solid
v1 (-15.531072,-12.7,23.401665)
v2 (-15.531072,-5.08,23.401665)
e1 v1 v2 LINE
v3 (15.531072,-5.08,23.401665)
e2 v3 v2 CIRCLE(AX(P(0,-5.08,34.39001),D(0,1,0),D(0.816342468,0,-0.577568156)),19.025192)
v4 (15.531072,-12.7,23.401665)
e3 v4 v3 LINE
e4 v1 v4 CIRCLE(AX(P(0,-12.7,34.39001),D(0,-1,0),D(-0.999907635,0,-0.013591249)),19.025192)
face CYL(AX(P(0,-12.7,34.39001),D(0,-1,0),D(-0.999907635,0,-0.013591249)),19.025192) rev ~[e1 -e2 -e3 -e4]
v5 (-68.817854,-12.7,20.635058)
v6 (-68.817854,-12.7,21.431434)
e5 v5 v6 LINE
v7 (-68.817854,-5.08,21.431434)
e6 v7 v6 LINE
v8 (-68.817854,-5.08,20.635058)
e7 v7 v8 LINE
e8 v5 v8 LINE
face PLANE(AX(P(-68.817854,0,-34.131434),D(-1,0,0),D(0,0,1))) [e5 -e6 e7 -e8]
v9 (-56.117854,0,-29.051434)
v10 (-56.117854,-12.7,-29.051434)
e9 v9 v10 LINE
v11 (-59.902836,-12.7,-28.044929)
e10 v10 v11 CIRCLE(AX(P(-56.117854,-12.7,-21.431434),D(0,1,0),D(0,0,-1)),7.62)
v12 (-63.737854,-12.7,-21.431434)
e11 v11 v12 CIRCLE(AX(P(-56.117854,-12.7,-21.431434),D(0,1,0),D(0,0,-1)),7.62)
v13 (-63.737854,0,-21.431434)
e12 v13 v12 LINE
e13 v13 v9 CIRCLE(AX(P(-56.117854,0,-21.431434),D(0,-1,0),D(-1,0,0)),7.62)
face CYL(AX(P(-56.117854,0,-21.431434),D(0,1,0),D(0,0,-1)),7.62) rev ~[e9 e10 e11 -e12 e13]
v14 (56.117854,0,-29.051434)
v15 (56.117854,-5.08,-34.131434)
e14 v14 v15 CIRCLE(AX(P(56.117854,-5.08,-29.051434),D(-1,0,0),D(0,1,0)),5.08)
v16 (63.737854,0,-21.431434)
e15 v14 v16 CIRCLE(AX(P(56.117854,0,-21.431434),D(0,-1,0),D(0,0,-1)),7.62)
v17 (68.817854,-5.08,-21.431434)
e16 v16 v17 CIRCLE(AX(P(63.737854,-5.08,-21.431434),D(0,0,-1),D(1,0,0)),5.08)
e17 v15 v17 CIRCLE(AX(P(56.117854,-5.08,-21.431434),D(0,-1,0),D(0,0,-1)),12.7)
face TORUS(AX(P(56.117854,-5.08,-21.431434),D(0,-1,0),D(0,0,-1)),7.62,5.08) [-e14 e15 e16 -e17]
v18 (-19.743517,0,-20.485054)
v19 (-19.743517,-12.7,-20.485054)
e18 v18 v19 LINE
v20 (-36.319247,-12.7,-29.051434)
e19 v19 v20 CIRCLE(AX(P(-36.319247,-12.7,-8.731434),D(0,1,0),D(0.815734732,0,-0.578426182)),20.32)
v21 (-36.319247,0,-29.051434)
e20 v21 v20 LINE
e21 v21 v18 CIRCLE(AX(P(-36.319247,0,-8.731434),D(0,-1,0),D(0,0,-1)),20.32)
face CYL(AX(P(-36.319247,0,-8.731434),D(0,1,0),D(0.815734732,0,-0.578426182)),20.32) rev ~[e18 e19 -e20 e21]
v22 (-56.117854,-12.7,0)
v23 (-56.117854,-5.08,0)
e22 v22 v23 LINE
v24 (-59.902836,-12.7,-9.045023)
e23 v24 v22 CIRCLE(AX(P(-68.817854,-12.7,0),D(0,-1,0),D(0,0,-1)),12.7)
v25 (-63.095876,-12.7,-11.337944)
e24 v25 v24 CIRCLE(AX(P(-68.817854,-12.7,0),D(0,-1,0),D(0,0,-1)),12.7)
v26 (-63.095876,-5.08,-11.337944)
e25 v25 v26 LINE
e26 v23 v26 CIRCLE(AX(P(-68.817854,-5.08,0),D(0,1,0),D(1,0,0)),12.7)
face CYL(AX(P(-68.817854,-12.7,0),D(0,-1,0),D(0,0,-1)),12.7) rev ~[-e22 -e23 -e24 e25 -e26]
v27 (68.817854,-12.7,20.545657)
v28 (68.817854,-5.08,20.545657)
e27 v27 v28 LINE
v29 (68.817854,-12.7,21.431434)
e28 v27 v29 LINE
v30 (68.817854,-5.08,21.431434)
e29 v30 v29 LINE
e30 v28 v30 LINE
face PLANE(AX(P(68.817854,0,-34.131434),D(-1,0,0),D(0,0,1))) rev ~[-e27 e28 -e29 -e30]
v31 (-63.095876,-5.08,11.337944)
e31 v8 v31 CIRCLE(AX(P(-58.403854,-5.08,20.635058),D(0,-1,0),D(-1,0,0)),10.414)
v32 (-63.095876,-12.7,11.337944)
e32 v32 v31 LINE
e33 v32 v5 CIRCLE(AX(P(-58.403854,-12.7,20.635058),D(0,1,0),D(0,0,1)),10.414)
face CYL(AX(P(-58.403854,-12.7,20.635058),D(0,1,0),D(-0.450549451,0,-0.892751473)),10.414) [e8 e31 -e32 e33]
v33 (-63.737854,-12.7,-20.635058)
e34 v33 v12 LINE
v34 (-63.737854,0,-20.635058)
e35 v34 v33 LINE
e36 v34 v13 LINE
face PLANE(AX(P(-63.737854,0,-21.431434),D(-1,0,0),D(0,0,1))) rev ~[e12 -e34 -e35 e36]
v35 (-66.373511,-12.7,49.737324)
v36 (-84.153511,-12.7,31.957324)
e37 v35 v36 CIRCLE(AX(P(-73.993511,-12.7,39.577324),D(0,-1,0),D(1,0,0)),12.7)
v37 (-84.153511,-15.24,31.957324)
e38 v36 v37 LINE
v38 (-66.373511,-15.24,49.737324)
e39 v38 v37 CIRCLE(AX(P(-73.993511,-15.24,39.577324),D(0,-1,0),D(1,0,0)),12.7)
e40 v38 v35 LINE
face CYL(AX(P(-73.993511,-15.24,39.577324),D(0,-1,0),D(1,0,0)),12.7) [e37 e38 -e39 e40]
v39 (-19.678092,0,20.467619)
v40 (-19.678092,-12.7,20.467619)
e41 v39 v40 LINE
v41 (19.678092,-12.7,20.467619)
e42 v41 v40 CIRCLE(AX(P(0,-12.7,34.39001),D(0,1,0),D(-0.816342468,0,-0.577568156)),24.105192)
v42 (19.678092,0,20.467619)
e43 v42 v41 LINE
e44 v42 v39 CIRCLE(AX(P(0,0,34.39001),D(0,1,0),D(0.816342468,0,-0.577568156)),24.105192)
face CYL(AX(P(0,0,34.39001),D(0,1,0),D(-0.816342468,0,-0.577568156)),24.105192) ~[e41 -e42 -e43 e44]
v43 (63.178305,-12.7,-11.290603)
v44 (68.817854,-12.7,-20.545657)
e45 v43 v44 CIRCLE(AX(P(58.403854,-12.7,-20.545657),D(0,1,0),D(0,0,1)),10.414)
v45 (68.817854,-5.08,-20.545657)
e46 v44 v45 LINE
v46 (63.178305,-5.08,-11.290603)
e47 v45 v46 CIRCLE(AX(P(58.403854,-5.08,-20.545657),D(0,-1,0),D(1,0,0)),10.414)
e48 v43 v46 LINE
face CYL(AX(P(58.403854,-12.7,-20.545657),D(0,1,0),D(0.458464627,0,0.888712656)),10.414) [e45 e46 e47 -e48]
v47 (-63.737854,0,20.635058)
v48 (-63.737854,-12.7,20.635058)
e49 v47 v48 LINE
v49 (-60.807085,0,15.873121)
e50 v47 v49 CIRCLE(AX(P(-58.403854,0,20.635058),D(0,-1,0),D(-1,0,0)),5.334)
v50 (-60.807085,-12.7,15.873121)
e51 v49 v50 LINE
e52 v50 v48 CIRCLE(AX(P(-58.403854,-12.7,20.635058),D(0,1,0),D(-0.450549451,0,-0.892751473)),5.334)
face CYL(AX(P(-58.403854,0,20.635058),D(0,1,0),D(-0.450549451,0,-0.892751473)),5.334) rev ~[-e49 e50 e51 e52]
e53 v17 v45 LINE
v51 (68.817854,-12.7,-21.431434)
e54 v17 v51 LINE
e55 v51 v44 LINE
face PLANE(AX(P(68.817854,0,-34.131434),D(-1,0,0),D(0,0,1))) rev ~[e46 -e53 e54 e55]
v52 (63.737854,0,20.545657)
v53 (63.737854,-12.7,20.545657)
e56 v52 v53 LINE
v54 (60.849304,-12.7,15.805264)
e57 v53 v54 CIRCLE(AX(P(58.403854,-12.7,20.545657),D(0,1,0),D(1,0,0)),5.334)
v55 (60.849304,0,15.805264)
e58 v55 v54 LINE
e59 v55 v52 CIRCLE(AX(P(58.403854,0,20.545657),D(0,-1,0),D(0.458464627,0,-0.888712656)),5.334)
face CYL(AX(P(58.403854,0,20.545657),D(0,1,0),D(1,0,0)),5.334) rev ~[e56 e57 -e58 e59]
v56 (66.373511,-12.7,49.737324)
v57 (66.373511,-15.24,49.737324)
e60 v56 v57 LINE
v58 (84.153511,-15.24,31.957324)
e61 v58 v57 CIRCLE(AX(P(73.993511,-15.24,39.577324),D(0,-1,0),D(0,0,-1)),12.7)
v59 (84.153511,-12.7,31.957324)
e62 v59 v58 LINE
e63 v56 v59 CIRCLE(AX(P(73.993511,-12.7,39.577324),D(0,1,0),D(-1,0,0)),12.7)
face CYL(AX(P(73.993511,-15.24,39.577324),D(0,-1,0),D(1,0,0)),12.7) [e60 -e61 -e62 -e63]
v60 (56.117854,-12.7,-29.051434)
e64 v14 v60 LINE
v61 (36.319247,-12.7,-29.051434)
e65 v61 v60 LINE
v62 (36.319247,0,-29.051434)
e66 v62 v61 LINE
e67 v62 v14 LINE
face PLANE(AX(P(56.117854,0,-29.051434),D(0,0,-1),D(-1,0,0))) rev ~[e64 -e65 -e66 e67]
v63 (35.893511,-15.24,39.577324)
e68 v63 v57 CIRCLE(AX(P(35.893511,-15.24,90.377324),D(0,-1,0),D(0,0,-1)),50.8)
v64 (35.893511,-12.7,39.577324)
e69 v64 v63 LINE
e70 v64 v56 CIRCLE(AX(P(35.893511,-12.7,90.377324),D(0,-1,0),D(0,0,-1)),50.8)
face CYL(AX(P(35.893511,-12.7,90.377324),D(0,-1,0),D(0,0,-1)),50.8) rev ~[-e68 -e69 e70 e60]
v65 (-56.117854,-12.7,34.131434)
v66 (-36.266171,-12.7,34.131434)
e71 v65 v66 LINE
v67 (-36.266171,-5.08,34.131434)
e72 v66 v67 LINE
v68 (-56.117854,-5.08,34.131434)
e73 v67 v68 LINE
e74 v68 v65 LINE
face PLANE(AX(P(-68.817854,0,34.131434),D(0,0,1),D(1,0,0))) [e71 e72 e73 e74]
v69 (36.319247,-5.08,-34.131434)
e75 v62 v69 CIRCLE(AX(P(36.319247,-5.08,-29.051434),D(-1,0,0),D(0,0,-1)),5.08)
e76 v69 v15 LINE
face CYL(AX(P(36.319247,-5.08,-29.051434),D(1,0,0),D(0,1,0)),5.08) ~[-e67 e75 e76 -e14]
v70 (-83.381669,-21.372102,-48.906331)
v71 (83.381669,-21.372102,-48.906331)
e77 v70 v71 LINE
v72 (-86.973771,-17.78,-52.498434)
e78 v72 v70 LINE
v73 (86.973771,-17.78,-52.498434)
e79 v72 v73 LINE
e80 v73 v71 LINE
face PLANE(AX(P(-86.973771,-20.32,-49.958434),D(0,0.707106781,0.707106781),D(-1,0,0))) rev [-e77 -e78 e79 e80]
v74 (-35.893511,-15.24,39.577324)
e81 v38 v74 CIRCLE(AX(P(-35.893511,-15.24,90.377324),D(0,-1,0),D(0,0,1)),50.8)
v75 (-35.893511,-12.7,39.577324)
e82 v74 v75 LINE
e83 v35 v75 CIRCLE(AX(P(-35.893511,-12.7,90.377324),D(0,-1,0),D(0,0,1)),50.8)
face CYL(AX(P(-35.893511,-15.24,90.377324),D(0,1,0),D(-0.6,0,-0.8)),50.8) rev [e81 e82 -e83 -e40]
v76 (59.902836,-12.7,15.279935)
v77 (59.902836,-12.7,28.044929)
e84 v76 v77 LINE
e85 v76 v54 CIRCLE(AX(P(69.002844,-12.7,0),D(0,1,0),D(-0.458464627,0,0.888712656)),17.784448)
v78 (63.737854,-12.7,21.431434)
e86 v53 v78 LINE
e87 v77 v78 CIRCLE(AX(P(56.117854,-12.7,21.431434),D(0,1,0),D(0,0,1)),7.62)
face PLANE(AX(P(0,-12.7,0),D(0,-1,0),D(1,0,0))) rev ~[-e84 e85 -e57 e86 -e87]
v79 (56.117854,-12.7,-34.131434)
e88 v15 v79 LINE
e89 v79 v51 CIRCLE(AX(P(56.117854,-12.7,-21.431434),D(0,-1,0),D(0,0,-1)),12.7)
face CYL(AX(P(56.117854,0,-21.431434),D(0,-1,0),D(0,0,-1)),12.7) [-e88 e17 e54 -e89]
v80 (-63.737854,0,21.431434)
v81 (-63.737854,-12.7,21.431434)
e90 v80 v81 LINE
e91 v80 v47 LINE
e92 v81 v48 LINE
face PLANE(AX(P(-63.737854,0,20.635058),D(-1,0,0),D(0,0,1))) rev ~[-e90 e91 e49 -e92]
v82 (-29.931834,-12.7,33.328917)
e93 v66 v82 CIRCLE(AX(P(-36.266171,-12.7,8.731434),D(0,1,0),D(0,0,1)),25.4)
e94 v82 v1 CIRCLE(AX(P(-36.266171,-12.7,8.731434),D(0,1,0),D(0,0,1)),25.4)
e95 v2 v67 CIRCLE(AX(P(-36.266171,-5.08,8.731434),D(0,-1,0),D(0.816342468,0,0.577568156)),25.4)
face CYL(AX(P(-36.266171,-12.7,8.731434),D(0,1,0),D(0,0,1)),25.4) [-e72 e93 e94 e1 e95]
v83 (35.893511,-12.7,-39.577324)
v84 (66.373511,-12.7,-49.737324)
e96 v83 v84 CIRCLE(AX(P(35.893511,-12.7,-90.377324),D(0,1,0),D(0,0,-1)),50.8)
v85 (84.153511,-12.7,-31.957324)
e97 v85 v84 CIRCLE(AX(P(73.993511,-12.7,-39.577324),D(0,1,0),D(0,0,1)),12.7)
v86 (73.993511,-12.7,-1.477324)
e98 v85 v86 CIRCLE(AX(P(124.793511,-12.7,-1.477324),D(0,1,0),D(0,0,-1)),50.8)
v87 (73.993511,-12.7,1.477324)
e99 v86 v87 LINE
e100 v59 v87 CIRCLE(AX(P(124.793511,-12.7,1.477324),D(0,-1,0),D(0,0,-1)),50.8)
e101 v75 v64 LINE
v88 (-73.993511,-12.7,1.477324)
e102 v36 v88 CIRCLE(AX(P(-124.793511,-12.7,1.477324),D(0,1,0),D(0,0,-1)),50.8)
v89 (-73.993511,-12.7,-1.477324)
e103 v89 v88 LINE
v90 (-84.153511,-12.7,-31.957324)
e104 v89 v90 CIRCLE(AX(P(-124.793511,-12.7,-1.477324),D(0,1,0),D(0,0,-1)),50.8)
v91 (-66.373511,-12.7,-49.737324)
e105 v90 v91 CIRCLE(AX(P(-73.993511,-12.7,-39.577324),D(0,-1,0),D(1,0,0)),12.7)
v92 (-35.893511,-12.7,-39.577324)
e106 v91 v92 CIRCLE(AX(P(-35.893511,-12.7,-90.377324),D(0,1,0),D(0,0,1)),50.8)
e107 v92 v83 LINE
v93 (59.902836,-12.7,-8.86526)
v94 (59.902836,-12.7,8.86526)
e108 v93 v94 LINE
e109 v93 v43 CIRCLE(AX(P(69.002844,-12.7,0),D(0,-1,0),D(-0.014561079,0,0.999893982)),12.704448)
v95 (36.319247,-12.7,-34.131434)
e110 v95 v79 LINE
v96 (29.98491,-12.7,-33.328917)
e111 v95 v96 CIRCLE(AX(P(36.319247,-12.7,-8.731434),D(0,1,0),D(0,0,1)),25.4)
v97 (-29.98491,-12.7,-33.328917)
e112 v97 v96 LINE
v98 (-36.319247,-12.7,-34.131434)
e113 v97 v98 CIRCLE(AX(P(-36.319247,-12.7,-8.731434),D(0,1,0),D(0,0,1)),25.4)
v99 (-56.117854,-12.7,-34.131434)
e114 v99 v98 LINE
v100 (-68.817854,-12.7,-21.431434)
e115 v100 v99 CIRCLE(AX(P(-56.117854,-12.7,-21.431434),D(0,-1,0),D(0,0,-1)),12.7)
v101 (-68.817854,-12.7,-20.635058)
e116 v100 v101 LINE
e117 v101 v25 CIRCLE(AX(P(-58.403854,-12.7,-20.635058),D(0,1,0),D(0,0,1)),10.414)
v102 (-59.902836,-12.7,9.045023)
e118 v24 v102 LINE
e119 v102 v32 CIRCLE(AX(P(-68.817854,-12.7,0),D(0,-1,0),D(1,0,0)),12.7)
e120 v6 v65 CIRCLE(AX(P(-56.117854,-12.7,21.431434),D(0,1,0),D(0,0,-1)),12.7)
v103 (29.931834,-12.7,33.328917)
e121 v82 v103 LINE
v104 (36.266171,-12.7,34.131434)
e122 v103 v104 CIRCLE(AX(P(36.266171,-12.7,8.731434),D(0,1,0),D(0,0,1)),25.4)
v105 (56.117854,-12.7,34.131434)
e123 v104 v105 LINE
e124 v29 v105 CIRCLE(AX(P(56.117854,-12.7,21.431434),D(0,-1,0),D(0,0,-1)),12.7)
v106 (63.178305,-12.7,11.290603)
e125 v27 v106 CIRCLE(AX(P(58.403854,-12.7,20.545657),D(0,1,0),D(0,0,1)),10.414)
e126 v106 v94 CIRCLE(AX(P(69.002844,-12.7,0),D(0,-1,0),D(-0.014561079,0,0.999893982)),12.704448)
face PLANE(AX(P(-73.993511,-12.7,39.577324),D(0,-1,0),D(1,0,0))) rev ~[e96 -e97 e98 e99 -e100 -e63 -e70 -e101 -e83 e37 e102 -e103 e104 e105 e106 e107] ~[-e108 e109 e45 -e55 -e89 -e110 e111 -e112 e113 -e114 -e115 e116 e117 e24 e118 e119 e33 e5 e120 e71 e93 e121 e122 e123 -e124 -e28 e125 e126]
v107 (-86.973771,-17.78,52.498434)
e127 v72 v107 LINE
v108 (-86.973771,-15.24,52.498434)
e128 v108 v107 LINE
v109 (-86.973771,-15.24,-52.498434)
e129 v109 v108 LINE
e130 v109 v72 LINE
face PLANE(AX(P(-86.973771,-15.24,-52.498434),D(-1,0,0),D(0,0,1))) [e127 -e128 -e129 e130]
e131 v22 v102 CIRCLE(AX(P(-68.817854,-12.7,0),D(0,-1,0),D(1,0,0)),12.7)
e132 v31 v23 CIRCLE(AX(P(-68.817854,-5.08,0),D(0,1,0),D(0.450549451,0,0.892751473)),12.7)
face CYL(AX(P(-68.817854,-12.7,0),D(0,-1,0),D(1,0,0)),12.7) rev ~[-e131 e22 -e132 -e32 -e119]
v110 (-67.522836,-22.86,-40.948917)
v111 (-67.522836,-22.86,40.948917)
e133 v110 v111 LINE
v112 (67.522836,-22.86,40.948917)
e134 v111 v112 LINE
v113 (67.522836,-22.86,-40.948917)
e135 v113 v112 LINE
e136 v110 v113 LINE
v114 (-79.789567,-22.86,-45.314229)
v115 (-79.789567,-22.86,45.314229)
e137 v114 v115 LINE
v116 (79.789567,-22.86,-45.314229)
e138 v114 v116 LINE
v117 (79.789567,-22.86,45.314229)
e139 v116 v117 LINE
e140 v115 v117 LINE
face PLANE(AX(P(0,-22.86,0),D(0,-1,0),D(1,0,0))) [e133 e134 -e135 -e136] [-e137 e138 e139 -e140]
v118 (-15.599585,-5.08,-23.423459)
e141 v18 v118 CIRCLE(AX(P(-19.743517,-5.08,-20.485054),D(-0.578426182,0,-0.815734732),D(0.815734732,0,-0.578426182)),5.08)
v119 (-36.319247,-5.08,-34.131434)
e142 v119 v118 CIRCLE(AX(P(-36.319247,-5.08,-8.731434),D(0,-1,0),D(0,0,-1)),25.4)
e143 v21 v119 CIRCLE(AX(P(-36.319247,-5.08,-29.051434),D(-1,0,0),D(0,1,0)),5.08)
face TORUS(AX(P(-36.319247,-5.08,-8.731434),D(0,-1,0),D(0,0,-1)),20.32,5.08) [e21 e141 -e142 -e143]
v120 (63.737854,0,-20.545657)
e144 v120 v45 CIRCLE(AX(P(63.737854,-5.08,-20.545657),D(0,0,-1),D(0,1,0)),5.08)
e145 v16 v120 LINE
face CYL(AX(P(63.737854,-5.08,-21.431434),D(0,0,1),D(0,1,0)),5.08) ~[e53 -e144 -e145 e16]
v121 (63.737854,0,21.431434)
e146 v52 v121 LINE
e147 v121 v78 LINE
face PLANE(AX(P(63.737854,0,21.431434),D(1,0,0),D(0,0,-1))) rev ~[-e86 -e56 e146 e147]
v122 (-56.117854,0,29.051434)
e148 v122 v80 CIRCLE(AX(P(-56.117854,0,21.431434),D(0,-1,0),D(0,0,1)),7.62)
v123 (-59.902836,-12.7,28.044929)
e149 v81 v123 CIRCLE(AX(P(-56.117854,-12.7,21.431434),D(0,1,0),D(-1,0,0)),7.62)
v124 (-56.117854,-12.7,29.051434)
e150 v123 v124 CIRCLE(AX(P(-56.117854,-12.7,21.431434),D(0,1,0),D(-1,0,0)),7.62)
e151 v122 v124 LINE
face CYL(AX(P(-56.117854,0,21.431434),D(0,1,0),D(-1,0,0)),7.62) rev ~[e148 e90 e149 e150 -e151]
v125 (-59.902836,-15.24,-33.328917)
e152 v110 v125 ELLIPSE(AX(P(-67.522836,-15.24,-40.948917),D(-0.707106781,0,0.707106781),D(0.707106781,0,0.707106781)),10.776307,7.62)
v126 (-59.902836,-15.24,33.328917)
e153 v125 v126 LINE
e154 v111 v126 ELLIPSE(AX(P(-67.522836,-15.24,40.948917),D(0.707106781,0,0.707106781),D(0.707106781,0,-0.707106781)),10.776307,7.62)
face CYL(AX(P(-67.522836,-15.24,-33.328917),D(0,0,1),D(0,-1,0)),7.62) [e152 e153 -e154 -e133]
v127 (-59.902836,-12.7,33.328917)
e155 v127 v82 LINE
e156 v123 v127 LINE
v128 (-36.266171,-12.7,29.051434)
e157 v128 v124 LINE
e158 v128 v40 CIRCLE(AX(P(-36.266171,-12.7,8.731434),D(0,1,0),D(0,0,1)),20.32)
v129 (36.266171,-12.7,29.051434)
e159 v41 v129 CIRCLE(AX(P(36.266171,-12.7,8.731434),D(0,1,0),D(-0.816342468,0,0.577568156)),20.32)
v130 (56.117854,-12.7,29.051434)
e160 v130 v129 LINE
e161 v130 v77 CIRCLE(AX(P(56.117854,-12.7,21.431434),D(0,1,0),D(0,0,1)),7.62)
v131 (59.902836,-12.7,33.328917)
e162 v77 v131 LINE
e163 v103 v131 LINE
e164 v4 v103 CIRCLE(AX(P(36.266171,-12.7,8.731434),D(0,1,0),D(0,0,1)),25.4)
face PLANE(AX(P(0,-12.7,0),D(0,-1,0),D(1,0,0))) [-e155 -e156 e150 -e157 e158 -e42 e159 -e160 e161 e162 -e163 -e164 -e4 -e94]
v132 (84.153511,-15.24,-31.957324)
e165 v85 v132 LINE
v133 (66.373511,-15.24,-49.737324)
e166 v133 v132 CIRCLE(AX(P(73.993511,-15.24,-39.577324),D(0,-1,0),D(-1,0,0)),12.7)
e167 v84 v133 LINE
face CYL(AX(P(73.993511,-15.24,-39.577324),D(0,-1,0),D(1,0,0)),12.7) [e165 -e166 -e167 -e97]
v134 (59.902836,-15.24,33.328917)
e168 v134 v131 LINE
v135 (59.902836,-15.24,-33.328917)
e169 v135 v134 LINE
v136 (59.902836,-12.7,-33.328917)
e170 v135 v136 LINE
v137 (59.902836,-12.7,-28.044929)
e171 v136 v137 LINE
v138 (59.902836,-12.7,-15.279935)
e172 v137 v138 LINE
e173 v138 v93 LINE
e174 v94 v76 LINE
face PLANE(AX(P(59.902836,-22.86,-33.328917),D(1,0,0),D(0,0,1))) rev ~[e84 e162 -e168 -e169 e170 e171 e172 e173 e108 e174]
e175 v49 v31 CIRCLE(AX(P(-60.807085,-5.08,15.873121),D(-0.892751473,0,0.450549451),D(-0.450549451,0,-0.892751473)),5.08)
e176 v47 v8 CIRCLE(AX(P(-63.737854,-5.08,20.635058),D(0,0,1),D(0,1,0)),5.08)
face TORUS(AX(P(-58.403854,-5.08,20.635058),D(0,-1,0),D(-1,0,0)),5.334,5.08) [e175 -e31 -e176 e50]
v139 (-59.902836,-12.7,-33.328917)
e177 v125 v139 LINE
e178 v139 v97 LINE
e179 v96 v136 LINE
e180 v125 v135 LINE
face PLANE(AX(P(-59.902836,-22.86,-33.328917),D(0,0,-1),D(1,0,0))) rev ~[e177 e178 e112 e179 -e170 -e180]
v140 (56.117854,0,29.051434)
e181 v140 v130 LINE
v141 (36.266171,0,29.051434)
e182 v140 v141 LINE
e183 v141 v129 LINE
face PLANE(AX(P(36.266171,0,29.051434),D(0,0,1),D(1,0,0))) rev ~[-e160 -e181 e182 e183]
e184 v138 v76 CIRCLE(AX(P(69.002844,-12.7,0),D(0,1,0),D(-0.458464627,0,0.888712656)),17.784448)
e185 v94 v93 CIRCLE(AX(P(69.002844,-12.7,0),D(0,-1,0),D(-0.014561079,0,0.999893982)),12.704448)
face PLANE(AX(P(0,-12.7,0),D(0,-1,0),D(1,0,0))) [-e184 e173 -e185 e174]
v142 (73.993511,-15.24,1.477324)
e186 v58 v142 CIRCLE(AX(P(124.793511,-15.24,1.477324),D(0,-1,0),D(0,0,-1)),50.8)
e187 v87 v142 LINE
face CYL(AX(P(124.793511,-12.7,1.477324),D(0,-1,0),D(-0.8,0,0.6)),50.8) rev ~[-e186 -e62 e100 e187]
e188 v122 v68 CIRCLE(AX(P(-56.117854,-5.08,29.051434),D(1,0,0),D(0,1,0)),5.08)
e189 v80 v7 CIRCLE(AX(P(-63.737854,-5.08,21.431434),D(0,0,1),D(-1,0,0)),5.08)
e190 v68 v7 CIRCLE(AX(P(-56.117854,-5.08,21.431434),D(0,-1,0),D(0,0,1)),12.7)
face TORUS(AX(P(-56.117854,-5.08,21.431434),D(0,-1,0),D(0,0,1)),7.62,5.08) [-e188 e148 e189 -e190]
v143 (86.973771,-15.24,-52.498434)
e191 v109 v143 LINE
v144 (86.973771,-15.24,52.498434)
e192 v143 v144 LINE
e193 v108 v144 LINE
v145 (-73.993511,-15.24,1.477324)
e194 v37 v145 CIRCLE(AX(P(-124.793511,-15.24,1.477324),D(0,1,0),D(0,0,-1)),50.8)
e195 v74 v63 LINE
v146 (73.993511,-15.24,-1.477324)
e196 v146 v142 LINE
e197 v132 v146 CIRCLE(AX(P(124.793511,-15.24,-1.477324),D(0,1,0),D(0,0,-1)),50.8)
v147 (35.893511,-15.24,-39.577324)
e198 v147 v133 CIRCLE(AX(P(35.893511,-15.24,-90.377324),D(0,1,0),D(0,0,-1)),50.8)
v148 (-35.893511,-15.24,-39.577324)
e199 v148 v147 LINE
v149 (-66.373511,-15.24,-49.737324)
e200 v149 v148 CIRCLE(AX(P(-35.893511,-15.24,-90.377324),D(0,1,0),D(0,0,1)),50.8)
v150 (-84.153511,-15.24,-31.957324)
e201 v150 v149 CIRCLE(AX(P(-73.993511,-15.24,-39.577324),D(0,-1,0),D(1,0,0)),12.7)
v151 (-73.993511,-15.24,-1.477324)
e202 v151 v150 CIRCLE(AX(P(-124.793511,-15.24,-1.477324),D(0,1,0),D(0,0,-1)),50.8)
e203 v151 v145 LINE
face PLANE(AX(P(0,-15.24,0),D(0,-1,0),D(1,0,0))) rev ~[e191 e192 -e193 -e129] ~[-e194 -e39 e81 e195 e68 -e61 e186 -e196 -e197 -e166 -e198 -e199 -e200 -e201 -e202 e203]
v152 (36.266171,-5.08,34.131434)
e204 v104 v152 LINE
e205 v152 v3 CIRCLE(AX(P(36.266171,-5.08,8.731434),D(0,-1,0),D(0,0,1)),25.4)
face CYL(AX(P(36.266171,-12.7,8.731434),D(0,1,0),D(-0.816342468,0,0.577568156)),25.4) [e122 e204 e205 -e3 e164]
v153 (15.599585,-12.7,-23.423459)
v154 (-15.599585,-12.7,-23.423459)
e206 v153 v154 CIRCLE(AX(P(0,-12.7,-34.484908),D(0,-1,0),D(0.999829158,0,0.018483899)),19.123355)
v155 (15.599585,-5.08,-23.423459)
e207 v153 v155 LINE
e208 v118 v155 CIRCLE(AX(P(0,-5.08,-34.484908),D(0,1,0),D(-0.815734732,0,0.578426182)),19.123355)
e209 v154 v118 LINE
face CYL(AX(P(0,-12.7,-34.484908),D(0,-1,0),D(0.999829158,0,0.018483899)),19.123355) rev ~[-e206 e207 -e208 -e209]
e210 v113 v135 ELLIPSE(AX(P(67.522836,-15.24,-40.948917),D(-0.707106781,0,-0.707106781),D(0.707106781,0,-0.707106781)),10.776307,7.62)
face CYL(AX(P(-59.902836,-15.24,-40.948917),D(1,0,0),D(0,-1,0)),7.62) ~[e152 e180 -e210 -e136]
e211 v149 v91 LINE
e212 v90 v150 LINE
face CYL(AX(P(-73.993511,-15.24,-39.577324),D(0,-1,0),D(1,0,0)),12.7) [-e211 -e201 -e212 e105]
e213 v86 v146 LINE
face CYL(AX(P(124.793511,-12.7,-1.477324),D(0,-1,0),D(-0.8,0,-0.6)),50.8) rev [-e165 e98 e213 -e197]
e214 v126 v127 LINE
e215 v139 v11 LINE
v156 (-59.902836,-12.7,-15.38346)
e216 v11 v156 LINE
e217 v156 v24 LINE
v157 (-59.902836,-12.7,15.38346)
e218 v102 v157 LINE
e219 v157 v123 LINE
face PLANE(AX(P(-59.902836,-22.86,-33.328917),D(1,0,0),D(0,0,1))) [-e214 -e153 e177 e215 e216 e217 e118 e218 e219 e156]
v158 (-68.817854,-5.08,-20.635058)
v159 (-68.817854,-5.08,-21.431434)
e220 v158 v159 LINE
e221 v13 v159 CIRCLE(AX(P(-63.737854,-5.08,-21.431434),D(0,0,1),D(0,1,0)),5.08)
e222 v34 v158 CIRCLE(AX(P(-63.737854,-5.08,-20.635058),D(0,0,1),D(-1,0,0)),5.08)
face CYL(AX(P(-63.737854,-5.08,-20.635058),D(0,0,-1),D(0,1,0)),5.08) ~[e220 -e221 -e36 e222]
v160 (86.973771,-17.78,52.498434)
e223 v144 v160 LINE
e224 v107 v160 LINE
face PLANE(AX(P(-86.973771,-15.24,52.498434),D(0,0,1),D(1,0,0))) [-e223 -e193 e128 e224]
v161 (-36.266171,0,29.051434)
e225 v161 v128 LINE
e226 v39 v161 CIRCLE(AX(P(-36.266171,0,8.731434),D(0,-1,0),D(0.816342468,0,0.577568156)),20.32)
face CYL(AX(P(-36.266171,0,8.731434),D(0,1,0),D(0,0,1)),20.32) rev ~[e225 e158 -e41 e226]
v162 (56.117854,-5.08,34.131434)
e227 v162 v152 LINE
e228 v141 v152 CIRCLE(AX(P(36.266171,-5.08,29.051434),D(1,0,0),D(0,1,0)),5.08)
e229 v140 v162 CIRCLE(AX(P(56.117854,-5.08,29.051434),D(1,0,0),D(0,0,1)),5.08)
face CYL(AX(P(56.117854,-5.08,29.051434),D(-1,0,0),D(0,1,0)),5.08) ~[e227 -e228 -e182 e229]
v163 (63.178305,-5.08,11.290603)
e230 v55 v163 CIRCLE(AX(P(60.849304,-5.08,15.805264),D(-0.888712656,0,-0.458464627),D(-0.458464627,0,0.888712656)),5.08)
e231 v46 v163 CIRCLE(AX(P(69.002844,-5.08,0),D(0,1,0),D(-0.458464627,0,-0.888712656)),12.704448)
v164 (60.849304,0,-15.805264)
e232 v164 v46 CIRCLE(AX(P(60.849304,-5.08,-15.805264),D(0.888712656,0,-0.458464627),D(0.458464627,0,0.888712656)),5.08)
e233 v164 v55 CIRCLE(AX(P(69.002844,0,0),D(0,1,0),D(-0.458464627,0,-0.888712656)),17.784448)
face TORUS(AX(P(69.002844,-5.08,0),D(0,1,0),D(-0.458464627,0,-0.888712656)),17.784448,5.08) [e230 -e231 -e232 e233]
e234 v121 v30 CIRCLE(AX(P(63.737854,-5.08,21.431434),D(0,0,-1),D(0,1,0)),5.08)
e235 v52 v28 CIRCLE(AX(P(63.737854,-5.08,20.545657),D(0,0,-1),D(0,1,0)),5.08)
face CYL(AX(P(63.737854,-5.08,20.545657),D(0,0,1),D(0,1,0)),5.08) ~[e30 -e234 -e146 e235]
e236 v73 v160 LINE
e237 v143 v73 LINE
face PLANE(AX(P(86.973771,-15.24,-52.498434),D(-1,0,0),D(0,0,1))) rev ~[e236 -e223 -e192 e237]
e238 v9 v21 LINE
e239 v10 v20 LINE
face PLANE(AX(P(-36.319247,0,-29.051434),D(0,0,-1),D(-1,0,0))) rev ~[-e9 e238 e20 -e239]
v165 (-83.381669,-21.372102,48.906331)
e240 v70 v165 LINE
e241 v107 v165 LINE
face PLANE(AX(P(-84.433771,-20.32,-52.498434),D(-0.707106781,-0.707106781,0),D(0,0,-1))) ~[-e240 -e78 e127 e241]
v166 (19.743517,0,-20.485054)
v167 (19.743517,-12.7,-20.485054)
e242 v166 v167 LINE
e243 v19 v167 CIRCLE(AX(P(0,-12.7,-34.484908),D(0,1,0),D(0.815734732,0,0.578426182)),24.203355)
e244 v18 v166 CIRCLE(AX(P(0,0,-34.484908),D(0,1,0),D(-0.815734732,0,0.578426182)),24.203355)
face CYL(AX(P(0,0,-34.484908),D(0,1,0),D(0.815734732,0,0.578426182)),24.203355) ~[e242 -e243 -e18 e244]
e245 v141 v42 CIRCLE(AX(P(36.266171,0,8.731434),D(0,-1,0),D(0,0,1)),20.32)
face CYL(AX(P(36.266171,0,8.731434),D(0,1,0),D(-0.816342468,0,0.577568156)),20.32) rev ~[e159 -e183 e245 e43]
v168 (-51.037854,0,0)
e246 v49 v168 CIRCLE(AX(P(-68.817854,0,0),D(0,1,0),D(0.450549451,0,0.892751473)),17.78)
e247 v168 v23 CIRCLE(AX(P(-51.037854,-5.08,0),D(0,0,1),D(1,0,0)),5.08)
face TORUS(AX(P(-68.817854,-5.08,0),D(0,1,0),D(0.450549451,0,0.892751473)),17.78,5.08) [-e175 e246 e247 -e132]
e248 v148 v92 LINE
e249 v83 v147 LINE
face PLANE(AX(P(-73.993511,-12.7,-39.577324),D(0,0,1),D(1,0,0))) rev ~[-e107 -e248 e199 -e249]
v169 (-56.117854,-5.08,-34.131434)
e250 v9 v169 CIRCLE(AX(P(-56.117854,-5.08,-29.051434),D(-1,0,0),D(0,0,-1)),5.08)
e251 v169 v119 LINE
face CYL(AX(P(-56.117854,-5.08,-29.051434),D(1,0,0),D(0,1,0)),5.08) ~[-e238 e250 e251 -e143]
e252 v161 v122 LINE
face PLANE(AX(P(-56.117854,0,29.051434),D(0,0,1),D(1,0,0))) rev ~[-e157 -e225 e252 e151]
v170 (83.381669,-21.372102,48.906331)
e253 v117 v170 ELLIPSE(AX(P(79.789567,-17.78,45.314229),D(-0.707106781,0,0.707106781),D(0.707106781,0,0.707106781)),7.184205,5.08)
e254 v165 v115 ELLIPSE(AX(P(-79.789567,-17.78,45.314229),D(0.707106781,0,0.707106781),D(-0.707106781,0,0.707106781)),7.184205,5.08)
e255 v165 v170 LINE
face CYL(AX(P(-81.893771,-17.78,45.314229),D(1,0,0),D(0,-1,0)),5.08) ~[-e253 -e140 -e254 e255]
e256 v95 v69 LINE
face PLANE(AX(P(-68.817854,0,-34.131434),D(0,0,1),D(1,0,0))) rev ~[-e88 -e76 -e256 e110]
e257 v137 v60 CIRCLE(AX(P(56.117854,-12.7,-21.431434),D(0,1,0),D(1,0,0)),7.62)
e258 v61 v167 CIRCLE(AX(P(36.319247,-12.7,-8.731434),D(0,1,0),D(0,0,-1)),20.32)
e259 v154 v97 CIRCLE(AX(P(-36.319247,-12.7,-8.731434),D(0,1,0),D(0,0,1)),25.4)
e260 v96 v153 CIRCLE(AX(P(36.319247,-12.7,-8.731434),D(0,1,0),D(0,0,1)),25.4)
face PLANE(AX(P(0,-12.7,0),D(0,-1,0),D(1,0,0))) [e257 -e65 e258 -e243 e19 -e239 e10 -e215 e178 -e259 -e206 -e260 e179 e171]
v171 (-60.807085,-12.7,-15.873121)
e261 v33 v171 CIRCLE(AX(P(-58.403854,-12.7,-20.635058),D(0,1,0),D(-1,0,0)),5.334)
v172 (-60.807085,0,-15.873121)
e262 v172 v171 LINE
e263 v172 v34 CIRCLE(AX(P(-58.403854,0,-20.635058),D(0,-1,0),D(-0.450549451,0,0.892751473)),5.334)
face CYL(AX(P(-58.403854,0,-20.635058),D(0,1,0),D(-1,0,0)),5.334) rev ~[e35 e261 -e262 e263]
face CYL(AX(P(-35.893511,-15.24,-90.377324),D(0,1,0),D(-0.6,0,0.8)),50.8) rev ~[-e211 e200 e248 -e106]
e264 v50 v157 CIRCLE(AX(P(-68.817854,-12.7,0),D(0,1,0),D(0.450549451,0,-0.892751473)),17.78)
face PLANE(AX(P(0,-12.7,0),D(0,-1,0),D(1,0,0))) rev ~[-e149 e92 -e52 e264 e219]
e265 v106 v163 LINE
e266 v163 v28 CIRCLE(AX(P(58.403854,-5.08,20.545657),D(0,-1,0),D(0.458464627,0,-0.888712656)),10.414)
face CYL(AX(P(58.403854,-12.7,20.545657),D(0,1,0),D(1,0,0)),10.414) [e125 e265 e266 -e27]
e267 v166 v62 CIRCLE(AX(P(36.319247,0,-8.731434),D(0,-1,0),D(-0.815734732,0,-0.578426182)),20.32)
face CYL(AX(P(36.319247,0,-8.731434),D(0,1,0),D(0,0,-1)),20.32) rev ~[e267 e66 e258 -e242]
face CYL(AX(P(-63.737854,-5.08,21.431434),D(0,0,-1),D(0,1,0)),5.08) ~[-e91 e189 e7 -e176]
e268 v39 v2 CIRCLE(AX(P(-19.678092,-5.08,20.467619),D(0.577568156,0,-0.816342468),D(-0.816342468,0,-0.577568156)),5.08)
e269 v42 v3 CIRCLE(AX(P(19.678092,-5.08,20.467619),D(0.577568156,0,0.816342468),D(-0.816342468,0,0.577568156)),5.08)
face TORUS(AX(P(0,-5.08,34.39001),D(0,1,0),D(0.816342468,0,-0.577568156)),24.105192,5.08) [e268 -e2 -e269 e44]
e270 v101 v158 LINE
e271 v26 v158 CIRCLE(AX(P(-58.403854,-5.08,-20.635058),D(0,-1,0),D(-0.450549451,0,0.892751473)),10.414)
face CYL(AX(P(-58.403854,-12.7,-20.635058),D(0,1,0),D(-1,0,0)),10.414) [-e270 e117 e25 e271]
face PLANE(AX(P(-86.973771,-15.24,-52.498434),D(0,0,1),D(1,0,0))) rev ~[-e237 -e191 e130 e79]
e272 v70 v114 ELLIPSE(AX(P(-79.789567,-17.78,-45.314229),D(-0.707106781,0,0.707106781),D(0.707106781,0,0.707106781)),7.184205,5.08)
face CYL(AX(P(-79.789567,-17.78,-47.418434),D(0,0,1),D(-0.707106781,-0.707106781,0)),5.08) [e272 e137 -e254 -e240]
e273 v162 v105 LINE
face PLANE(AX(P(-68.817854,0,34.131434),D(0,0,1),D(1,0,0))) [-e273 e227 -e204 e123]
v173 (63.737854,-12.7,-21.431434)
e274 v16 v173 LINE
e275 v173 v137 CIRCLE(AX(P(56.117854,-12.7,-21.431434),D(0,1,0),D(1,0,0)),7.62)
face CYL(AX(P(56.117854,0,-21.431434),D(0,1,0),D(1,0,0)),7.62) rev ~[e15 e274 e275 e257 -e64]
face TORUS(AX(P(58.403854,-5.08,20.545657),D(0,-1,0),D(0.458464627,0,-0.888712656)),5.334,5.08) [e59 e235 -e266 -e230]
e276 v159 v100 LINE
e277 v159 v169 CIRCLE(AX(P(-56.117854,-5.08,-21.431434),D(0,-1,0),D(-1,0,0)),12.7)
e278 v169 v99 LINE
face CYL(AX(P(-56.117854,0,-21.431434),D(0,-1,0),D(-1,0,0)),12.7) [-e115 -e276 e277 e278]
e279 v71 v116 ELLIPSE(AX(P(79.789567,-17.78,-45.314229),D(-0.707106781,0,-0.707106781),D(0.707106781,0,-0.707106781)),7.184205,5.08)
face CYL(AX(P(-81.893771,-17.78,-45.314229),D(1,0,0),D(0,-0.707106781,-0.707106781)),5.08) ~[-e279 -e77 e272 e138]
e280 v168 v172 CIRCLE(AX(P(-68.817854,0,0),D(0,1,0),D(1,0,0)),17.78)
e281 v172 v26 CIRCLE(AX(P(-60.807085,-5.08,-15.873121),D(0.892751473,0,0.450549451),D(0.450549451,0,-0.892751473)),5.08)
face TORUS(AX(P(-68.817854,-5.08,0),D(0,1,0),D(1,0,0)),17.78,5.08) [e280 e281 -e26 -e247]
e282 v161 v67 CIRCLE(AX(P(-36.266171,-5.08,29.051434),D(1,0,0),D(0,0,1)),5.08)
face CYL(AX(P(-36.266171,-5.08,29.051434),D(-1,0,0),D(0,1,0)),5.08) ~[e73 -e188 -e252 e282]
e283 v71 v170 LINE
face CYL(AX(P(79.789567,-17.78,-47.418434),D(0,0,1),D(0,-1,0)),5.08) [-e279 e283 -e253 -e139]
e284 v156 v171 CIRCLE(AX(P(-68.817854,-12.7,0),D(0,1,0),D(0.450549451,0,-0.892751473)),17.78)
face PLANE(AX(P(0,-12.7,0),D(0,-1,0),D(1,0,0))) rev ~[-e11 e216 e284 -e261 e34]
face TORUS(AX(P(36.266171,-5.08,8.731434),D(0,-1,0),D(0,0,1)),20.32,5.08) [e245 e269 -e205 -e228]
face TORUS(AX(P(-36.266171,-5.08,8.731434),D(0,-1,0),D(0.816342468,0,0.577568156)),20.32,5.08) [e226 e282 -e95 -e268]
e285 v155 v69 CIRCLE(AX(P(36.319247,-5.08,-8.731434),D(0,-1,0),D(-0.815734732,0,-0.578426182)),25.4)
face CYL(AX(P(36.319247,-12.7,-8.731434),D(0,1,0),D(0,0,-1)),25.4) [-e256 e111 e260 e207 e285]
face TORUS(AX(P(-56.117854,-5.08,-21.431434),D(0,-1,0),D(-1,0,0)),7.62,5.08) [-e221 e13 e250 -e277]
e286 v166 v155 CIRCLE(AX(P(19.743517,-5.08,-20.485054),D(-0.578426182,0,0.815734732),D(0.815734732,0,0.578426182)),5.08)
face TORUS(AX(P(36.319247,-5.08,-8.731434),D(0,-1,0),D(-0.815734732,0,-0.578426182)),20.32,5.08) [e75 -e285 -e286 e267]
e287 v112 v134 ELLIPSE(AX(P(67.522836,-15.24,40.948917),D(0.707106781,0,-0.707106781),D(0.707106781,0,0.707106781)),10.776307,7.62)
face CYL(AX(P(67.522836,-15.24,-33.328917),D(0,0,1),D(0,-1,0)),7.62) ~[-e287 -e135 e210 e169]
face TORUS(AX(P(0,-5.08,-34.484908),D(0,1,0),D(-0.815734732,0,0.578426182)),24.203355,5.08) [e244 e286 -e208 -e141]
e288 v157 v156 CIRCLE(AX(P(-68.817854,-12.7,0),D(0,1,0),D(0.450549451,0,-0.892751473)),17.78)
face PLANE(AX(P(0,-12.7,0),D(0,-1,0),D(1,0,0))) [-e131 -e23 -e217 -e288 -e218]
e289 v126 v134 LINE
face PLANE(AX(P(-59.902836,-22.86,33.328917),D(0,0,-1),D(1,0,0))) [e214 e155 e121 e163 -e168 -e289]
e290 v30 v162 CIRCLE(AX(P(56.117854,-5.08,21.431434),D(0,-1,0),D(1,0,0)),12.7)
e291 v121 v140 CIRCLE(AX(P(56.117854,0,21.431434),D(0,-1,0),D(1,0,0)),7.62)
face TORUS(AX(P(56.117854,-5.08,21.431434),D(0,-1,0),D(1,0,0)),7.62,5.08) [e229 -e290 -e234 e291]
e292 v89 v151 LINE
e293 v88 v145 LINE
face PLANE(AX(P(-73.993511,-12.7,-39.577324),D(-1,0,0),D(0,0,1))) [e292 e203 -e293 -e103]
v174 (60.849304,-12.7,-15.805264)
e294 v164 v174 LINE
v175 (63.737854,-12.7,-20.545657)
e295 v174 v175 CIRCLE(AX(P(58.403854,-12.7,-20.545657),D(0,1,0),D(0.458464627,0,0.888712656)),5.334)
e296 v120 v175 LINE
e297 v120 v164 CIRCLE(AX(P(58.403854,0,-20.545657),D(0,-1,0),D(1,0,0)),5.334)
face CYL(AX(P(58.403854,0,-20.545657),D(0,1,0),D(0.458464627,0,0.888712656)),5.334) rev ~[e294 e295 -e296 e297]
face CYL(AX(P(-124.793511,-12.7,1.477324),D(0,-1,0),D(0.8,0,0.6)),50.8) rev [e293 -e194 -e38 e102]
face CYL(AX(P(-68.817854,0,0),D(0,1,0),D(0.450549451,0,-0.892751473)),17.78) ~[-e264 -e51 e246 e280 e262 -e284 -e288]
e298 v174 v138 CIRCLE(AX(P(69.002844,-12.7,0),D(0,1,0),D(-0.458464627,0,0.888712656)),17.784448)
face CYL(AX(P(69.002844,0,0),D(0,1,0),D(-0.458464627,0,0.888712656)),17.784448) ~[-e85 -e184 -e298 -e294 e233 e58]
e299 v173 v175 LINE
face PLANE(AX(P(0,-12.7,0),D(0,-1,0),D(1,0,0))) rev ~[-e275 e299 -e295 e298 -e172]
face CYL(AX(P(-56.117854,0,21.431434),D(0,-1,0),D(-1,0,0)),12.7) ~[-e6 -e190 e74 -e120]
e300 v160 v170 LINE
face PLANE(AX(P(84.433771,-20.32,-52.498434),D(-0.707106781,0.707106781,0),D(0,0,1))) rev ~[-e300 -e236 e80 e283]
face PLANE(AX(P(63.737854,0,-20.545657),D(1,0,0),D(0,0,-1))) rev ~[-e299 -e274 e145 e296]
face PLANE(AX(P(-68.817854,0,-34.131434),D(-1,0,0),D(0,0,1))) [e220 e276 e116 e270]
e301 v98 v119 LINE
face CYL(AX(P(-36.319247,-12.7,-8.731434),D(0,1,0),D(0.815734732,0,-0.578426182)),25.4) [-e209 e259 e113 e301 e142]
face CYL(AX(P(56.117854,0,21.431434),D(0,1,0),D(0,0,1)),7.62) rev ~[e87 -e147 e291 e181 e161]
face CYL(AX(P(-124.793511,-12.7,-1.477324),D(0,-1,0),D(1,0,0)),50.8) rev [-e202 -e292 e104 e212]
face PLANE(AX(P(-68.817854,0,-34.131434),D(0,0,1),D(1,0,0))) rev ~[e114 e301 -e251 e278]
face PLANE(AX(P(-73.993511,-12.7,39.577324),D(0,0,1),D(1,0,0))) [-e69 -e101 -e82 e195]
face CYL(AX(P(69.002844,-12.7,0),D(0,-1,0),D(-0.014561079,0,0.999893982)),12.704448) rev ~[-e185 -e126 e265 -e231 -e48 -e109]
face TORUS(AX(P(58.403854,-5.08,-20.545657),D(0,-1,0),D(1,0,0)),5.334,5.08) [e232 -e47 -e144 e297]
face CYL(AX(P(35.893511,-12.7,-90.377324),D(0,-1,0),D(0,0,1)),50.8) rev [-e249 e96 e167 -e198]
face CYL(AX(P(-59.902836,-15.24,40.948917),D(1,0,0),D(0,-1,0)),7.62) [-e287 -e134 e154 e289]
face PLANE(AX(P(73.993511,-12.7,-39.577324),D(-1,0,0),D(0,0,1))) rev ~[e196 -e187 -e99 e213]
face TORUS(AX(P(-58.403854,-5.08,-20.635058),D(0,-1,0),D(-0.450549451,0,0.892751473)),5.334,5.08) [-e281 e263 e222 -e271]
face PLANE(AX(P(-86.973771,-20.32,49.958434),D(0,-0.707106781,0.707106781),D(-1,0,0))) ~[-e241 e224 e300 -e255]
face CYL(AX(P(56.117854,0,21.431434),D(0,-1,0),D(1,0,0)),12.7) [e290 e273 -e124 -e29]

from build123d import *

# Parameters (mm, degrees)
F0_W      = 137.6357078552
F0_H      = 68.2628676295
F1_DEPTH  = 12.7
F2_R      = 12.7
F5_DEPTH  = 25.4
F6_R      = 25.4
F8_DEPTH  = 25.4
F10_DEPTH = 25.4
F11_R     = 10.414
F12_R     = 5.08
F14_DEPTH = 25.4
F15_W     = 147.9870229959
F15_H     = 79.1546478868
F16_DEPTH = 2.54
F17_R     = 12.7
F18_DEPTH = 2.54
F19_R     = 50.8
F20_R     = 50.8
F21_R     = 50.8
F22_R     = 50.8
F23_W     = 173.9475429058
F23_H     = 104.9968674779
F24_DEPTH = 7.62
F25_SIZE  = 5.08
F26_R     = 5.08
F27_W     = 119.8056712747
F27_H     = 66.657833755
F28_DEPTH = 10.16
F29_R     = 7.62


with BuildPart() as f1:
    # F0 (on Front) → F1 (new body)
    with BuildSketch(Plane.XZ):
        Rectangle(F0_W, F0_H)
    extrude(amount=F1_DEPTH)

    # F2
    f2_edges = [f1.edges().sort_by_distance(p)[0] for p in [
        (-68.817854, -6.35, 34.131434),
        (68.817854, -6.35, 34.131434),
        (68.817854, -6.35, -34.131434),
        (-68.817854, -6.35, -34.131434),
    ]]
    fillet(f2_edges, radius=F2_R)

    # F4 (on face) → F5 (cut)
    with BuildSketch(Plane.XZ.offset(12.7)):
        with BuildLine():
            Line((-19.1200878216, -34.1314338148), (19.1200878216, -34.1314338148))
            ThreePointArc((19.1200878216, -34.1314338148), (0, -15.3615530935), (-19.1200878216, -34.1314338148))
        make_face()
        with BuildLine():
            ThreePointArc((-19.0234345987, 34.1314338148), (0, 15.3648180736), (19.0234345987, 34.1314338148))
            Line((19.0234345987, 34.1314338148), (-19.0234345987, 34.1314338148))
        make_face()
    extrude(amount=-F5_DEPTH, mode=Mode.SUBTRACT)

    # F6
    f6_edges = [f1.edges().sort_by_distance(p)[0] for p in [
        (-19.120088, -6.35, -34.131434),
        (19.120088, -6.35, -34.131434),
        (-19.023435, -6.35, 34.131434),
        (19.023435, -6.35, 34.131434),
    ]]
    fillet(f6_edges, radius=F6_R)

    # F3 (on face) → F8 (cut)
    with BuildSketch(Plane.XZ.offset(12.7)):
        with BuildLine():
            ThreePointArc((-68.8178539276, -12.7), (-59.8375978065, -8.9802561211), (-56.1178539276, 0))
            ThreePointArc((-56.1178539276, 0), (-59.8375978065, 8.9802561211), (-68.8178539276, 12.7))
            Line((-68.8178539276, 12.7), (-68.8178539276, -12.7))
        make_face()
    extrude(amount=-F8_DEPTH, mode=Mode.SUBTRACT)

    # F9 (on face) → F10 (cut)
    with BuildSketch(Plane.XZ.offset(12.7)):
        with BuildLine():
            Line((68.8178539276, -12.7031007157), (68.8178539276, 12.7031007157))
            ThreePointArc((68.8178539276, 12.7031007157), (56.2983967758, 0), (68.8178539276, -12.7031007157))
        make_face()
    extrude(amount=-F10_DEPTH, mode=Mode.SUBTRACT)

    # F11
    f11_edges = [f1.edges().sort_by_distance(p)[0] for p in [
        (-68.817854, -6.35, 12.7),
        (-68.817854, -6.35, -12.7),
        (68.817854, -6.35, -12.703101),
        (68.817854, -6.35, 12.703101),
    ]]
    fillet(f11_edges, radius=F11_R)

    # F12
    f12_edges = [f1.edges().sort_by_distance(p)[0] for p in [
        (68.817854, 0, 20.988545),
        (67.2969, 0, 15.126696),
        (65.09811, 0, 30.41169),
        (56.298397, 0, 0),
        (46.192012, 0, 34.131434),
        (67.2969, 0, -15.126696),
        (24.592779, 0, 31.290067),
        (68.817854, 0, -20.988545),
        (0, 0, 15.364818),
        (65.09811, 0, -30.41169),
        (-24.592779, 0, 31.290067),
        (46.21855, 0, -34.131434),
        (-46.192012, 0, 34.131434),
        (24.657717, 0, -31.296201),
        (-65.09811, 0, 30.41169),
        (0, 0, -15.361553),
        (-68.817854, 0, 21.033246),
        (-24.657717, 0, -31.296201),
        (-67.272735, 0, 15.176638),
        (-46.21855, 0, -34.131434),
        (-56.117854, 0, 0),
        (-65.09811, 0, -30.41169),
        (-67.272735, 0, -15.176638),
        (-68.817854, 0, -21.033246),
    ]]
    fillet(f12_edges, radius=F12_R)

    # F13 (on face) → F14 (cut)
    with BuildSketch(Plane(origin=(0, 0, 0), x_dir=(-1, 0, 0), z_dir=(0, 1, 0))):
        with BuildLine():
            ThreePointArc((-56.1178539276, 29.0514338148), (-61.5060076003, 26.8195874874), (-63.7378539276, 21.4314338148))
            Line((-63.7378539276, 21.4314338148), (-63.7378539276, 20.5456569949))
            ThreePointArc((-63.7378539276, 20.5456569949), (-62.9588285714, 17.7700918282), (-60.8493042485, 15.8052636854))
            ThreePointArc((-60.8493042485, 15.8052636854), (-51.2183967758, 0), (-60.8493042485, -15.8052636854))
            ThreePointArc((-60.8493042485, -15.8052636854), (-62.9588285714, -17.7700918282), (-63.7378539276, -20.5456569949))
            Line((-63.7378539276, -20.5456569949), (-63.7378539276, -21.4314338148))
            ThreePointArc((-63.7378539276, -21.4314338148), (-61.5060076003, -26.8195874874), (-56.1178539276, -29.0514338148))
            Line((-56.1178539276, -29.0514338148), (-36.3192469491, -29.0514338148))
            ThreePointArc((-36.3192469491, -29.0514338148), (-26.9900229374, -26.7832475558), (-19.7435172043, -20.4850538286))
            ThreePointArc((-19.7435172043, -20.4850538286), (0, -10.2815530935), (19.7435172043, -20.4850538286))
            ThreePointArc((19.7435172043, -20.4850538286), (26.9900229374, -26.7832475558), (36.3192469491, -29.0514338148))
            Line((36.3192469491, -29.0514338148), (56.1178539276, -29.0514338148))
            ThreePointArc((56.1178539276, -29.0514338148), (61.5060076003, -26.8195874874), (63.7378539276, -21.4314338148))
            Line((63.7378539276, -21.4314338148), (63.7378539276, -20.6350575478))
            ThreePointArc((63.7378539276, -20.6350575478), (62.9464516934, -17.8392818882), (60.8070846968, -15.8731211906))
            ThreePointArc((60.8070846968, -15.8731211906), (51.0378539276, 0), (60.8070846968, 15.8731211906))
            ThreePointArc((60.8070846968, 15.8731211906), (62.9464516934, 17.8392818882), (63.7378539276, 20.6350575478))
            Line((63.7378539276, 20.6350575478), (63.7378539276, 21.4314338148))
            ThreePointArc((63.7378539276, 21.4314338148), (61.5060076003, 26.8195874874), (56.1178539276, 29.0514338148))
            Line((56.1178539276, 29.0514338148), (36.2661707874, 29.0514338148))
            ThreePointArc((36.2661707874, 29.0514338148), (26.9274577492, 26.7783404414), (19.6780918294, 20.467618735))
            ThreePointArc((19.6780918294, 20.467618735), (0, 10.2848180736), (-19.6780918294, 20.467618735))
            ThreePointArc((-19.6780918294, 20.467618735), (-26.9274577492, 26.7783404414), (-36.2661707874, 29.0514338148))
            Line((-36.2661707874, 29.0514338148), (-56.1178539276, 29.0514338148))
        make_face()
    extrude(amount=-F14_DEPTH, mode=Mode.SUBTRACT)

    # F15 (on face) → F16 (join)
    with BuildSketch(Plane.XZ.offset(12.7)):
        Rectangle(F15_W, F15_H)
    extrude(amount=F16_DEPTH)

    # F17 (on face) → F18 (join)
    with BuildSketch(Plane.XZ.offset(15.24)):
        with Locations((-73.993511498, 39.5773239434)):
            Circle(F17_R)
        with Locations((73.993511498, 39.5773239434)):
            Circle(F17_R)
        with Locations((-73.993511498, -39.5773239434)):
            Circle(F17_R)
        with Locations((73.993511498, -39.5773239434)):
            Circle(F17_R)
    extrude(amount=-F18_DEPTH)

    # F19
    f19_edges = [f1.edges().sort_by_distance(p)[0] for p in [
        (61.293511, -13.97, 39.577324),
        (-61.293511, -13.97, 39.577324),
    ]]
    fillet(f19_edges, radius=F19_R)

    # F20
    f20_edges = [f1.edges().sort_by_distance(p)[0] for p in [
        (-73.993511, -13.97, 26.877324),
        (-61.293511, -13.97, -39.577324),
        (61.293511, -13.97, -39.577324),
    ]]
    fillet(f20_edges, radius=F20_R)

    # F21
    f21_edges = [f1.edges().sort_by_distance(p)[0] for p in [
        (-73.993511, -13.97, -26.877324),
    ]]
    fillet(f21_edges, radius=F21_R)

    # F22
    f22_edges = [f1.edges().sort_by_distance(p)[0] for p in [
        (73.993511, -13.97, -26.877324),
        (73.993511, -13.97, 26.877324),
    ]]
    fillet(f22_edges, radius=F22_R)

    # F23 (on face) → F24 (join)
    with BuildSketch(Plane.XZ.offset(15.24)):
        Rectangle(F23_W, F23_H)
        with BuildLine():
            ThreePointArc((84.153511498, -31.9573239434), (82.973767619, -48.5575800644), (66.373511498, -49.7373239434))
            ThreePointArc((66.373511498, -49.7373239434), (51.9578820116, -42.1842124024), (35.893511498, -39.5773239434))
            Line((35.893511498, -39.5773239434), (-35.893511498, -39.5773239434))
            ThreePointArc((-35.893511498, -39.5773239434), (-51.9578820116, -42.1842124024), (-66.373511498, -49.7373239434))
            ThreePointArc((-66.373511498, -49.7373239434), (-82.973767619, -48.5575800644), (-84.153511498, -31.9573239434))
            ThreePointArc((-84.153511498, -31.9573239434), (-76.600399957, -17.541694457), (-73.993511498, -1.4773239434))
            Line((-73.993511498, -1.4773239434), (-73.993511498, 1.4773239434))
            ThreePointArc((-73.993511498, 1.4773239434), (-76.600399957, 17.541694457), (-84.153511498, 31.9573239434))
            ThreePointArc((-84.153511498, 31.9573239434), (-82.973767619, 48.5575800644), (-66.373511498, 49.7373239434))
            ThreePointArc((-66.373511498, 49.7373239434), (-51.9578820116, 42.1842124024), (-35.893511498, 39.5773239434))
            Line((-35.893511498, 39.5773239434), (35.893511498, 39.5773239434))
            ThreePointArc((35.893511498, 39.5773239434), (51.9578820116, 42.1842124024), (66.373511498, 49.7373239434))
            ThreePointArc((66.373511498, 49.7373239434), (82.973767619, 48.5575800644), (84.153511498, 31.9573239434))
            ThreePointArc((84.153511498, 31.9573239434), (76.600399957, 17.541694457), (73.993511498, 1.4773239434))
            Line((73.993511498, 1.4773239434), (73.993511498, -1.4773239434))
            ThreePointArc((73.993511498, -1.4773239434), (76.600399957, -17.541694457), (84.153511498, -31.9573239434))
        make_face(mode=Mode.SUBTRACT)
        with BuildLine():
            ThreePointArc((35.893511498, -39.5773239434), (51.9578820116, -42.1842124024), (66.373511498, -49.7373239434))
            ThreePointArc((66.373511498, -49.7373239434), (82.973767619, -48.5575800644), (84.153511498, -31.9573239434))
            ThreePointArc((84.153511498, -31.9573239434), (76.600399957, -17.541694457), (73.993511498, -1.4773239434))
            Line((73.993511498, -1.4773239434), (73.993511498, 1.4773239434))
            ThreePointArc((73.993511498, 1.4773239434), (76.600399957, 17.541694457), (84.153511498, 31.9573239434))
            ThreePointArc((84.153511498, 31.9573239434), (82.973767619, 48.5575800644), (66.373511498, 49.7373239434))
            ThreePointArc((66.373511498, 49.7373239434), (51.9578820116, 42.1842124024), (35.893511498, 39.5773239434))
            Line((35.893511498, 39.5773239434), (-35.893511498, 39.5773239434))
            ThreePointArc((-35.893511498, 39.5773239434), (-51.9578820116, 42.1842124024), (-66.373511498, 49.7373239434))
            ThreePointArc((-66.373511498, 49.7373239434), (-82.973767619, 48.5575800644), (-84.153511498, 31.9573239434))
            ThreePointArc((-84.153511498, 31.9573239434), (-76.600399957, 17.541694457), (-73.993511498, 1.4773239434))
            Line((-73.993511498, 1.4773239434), (-73.993511498, -1.4773239434))
            ThreePointArc((-73.993511498, -1.4773239434), (-76.600399957, -17.541694457), (-84.153511498, -31.9573239434))
            ThreePointArc((-84.153511498, -31.9573239434), (-82.973767619, -48.5575800644), (-66.373511498, -49.7373239434))
            ThreePointArc((-66.373511498, -49.7373239434), (-51.9578820116, -42.1842124024), (-35.893511498, -39.5773239434))
            Line((-35.893511498, -39.5773239434), (35.893511498, -39.5773239434))
        make_face()
    extrude(amount=F24_DEPTH)

    # F25
    f25_edges = [f1.edges().sort_by_distance(p)[0] for p in [
        (0, -22.86, 52.498434),
        (-86.973771, -22.86, 0),
        (0, -22.86, -52.498434),
        (86.973771, -22.86, 0),
    ]]
    chamfer(f25_edges, length=F25_SIZE)

    # F26
    f26_edges = [f1.edges().sort_by_distance(p)[0] for p in [
        (-81.893771, -22.86, 0),
        (0, -22.86, -47.418434),
        (0, -22.86, 47.418434),
        (81.893771, -22.86, 0),
    ]]
    fillet(f26_edges, radius=F26_R)

    # F27 (on face) → F28 (cut)
    with BuildSketch(Plane.XZ.offset(22.86)):
        Rectangle(F27_W, F27_H)
    extrude(amount=-F28_DEPTH, mode=Mode.SUBTRACT)

    # F29
    f29_edges = [f1.edges().sort_by_distance(p)[0] for p in [
        (-79.789567, -22.86, 0),
        (0, -22.86, 45.314229),
        (0, -22.86, -45.314229),
        (79.789567, -22.86, 0),
        (0, -22.86, 33.328917),
        (-59.902836, -22.86, 0),
        (0, -22.86, -33.328917),
        (59.902836, -22.86, 0),
    ]]
    fillet(f29_edges, radius=F29_R)


solid = f1.part
